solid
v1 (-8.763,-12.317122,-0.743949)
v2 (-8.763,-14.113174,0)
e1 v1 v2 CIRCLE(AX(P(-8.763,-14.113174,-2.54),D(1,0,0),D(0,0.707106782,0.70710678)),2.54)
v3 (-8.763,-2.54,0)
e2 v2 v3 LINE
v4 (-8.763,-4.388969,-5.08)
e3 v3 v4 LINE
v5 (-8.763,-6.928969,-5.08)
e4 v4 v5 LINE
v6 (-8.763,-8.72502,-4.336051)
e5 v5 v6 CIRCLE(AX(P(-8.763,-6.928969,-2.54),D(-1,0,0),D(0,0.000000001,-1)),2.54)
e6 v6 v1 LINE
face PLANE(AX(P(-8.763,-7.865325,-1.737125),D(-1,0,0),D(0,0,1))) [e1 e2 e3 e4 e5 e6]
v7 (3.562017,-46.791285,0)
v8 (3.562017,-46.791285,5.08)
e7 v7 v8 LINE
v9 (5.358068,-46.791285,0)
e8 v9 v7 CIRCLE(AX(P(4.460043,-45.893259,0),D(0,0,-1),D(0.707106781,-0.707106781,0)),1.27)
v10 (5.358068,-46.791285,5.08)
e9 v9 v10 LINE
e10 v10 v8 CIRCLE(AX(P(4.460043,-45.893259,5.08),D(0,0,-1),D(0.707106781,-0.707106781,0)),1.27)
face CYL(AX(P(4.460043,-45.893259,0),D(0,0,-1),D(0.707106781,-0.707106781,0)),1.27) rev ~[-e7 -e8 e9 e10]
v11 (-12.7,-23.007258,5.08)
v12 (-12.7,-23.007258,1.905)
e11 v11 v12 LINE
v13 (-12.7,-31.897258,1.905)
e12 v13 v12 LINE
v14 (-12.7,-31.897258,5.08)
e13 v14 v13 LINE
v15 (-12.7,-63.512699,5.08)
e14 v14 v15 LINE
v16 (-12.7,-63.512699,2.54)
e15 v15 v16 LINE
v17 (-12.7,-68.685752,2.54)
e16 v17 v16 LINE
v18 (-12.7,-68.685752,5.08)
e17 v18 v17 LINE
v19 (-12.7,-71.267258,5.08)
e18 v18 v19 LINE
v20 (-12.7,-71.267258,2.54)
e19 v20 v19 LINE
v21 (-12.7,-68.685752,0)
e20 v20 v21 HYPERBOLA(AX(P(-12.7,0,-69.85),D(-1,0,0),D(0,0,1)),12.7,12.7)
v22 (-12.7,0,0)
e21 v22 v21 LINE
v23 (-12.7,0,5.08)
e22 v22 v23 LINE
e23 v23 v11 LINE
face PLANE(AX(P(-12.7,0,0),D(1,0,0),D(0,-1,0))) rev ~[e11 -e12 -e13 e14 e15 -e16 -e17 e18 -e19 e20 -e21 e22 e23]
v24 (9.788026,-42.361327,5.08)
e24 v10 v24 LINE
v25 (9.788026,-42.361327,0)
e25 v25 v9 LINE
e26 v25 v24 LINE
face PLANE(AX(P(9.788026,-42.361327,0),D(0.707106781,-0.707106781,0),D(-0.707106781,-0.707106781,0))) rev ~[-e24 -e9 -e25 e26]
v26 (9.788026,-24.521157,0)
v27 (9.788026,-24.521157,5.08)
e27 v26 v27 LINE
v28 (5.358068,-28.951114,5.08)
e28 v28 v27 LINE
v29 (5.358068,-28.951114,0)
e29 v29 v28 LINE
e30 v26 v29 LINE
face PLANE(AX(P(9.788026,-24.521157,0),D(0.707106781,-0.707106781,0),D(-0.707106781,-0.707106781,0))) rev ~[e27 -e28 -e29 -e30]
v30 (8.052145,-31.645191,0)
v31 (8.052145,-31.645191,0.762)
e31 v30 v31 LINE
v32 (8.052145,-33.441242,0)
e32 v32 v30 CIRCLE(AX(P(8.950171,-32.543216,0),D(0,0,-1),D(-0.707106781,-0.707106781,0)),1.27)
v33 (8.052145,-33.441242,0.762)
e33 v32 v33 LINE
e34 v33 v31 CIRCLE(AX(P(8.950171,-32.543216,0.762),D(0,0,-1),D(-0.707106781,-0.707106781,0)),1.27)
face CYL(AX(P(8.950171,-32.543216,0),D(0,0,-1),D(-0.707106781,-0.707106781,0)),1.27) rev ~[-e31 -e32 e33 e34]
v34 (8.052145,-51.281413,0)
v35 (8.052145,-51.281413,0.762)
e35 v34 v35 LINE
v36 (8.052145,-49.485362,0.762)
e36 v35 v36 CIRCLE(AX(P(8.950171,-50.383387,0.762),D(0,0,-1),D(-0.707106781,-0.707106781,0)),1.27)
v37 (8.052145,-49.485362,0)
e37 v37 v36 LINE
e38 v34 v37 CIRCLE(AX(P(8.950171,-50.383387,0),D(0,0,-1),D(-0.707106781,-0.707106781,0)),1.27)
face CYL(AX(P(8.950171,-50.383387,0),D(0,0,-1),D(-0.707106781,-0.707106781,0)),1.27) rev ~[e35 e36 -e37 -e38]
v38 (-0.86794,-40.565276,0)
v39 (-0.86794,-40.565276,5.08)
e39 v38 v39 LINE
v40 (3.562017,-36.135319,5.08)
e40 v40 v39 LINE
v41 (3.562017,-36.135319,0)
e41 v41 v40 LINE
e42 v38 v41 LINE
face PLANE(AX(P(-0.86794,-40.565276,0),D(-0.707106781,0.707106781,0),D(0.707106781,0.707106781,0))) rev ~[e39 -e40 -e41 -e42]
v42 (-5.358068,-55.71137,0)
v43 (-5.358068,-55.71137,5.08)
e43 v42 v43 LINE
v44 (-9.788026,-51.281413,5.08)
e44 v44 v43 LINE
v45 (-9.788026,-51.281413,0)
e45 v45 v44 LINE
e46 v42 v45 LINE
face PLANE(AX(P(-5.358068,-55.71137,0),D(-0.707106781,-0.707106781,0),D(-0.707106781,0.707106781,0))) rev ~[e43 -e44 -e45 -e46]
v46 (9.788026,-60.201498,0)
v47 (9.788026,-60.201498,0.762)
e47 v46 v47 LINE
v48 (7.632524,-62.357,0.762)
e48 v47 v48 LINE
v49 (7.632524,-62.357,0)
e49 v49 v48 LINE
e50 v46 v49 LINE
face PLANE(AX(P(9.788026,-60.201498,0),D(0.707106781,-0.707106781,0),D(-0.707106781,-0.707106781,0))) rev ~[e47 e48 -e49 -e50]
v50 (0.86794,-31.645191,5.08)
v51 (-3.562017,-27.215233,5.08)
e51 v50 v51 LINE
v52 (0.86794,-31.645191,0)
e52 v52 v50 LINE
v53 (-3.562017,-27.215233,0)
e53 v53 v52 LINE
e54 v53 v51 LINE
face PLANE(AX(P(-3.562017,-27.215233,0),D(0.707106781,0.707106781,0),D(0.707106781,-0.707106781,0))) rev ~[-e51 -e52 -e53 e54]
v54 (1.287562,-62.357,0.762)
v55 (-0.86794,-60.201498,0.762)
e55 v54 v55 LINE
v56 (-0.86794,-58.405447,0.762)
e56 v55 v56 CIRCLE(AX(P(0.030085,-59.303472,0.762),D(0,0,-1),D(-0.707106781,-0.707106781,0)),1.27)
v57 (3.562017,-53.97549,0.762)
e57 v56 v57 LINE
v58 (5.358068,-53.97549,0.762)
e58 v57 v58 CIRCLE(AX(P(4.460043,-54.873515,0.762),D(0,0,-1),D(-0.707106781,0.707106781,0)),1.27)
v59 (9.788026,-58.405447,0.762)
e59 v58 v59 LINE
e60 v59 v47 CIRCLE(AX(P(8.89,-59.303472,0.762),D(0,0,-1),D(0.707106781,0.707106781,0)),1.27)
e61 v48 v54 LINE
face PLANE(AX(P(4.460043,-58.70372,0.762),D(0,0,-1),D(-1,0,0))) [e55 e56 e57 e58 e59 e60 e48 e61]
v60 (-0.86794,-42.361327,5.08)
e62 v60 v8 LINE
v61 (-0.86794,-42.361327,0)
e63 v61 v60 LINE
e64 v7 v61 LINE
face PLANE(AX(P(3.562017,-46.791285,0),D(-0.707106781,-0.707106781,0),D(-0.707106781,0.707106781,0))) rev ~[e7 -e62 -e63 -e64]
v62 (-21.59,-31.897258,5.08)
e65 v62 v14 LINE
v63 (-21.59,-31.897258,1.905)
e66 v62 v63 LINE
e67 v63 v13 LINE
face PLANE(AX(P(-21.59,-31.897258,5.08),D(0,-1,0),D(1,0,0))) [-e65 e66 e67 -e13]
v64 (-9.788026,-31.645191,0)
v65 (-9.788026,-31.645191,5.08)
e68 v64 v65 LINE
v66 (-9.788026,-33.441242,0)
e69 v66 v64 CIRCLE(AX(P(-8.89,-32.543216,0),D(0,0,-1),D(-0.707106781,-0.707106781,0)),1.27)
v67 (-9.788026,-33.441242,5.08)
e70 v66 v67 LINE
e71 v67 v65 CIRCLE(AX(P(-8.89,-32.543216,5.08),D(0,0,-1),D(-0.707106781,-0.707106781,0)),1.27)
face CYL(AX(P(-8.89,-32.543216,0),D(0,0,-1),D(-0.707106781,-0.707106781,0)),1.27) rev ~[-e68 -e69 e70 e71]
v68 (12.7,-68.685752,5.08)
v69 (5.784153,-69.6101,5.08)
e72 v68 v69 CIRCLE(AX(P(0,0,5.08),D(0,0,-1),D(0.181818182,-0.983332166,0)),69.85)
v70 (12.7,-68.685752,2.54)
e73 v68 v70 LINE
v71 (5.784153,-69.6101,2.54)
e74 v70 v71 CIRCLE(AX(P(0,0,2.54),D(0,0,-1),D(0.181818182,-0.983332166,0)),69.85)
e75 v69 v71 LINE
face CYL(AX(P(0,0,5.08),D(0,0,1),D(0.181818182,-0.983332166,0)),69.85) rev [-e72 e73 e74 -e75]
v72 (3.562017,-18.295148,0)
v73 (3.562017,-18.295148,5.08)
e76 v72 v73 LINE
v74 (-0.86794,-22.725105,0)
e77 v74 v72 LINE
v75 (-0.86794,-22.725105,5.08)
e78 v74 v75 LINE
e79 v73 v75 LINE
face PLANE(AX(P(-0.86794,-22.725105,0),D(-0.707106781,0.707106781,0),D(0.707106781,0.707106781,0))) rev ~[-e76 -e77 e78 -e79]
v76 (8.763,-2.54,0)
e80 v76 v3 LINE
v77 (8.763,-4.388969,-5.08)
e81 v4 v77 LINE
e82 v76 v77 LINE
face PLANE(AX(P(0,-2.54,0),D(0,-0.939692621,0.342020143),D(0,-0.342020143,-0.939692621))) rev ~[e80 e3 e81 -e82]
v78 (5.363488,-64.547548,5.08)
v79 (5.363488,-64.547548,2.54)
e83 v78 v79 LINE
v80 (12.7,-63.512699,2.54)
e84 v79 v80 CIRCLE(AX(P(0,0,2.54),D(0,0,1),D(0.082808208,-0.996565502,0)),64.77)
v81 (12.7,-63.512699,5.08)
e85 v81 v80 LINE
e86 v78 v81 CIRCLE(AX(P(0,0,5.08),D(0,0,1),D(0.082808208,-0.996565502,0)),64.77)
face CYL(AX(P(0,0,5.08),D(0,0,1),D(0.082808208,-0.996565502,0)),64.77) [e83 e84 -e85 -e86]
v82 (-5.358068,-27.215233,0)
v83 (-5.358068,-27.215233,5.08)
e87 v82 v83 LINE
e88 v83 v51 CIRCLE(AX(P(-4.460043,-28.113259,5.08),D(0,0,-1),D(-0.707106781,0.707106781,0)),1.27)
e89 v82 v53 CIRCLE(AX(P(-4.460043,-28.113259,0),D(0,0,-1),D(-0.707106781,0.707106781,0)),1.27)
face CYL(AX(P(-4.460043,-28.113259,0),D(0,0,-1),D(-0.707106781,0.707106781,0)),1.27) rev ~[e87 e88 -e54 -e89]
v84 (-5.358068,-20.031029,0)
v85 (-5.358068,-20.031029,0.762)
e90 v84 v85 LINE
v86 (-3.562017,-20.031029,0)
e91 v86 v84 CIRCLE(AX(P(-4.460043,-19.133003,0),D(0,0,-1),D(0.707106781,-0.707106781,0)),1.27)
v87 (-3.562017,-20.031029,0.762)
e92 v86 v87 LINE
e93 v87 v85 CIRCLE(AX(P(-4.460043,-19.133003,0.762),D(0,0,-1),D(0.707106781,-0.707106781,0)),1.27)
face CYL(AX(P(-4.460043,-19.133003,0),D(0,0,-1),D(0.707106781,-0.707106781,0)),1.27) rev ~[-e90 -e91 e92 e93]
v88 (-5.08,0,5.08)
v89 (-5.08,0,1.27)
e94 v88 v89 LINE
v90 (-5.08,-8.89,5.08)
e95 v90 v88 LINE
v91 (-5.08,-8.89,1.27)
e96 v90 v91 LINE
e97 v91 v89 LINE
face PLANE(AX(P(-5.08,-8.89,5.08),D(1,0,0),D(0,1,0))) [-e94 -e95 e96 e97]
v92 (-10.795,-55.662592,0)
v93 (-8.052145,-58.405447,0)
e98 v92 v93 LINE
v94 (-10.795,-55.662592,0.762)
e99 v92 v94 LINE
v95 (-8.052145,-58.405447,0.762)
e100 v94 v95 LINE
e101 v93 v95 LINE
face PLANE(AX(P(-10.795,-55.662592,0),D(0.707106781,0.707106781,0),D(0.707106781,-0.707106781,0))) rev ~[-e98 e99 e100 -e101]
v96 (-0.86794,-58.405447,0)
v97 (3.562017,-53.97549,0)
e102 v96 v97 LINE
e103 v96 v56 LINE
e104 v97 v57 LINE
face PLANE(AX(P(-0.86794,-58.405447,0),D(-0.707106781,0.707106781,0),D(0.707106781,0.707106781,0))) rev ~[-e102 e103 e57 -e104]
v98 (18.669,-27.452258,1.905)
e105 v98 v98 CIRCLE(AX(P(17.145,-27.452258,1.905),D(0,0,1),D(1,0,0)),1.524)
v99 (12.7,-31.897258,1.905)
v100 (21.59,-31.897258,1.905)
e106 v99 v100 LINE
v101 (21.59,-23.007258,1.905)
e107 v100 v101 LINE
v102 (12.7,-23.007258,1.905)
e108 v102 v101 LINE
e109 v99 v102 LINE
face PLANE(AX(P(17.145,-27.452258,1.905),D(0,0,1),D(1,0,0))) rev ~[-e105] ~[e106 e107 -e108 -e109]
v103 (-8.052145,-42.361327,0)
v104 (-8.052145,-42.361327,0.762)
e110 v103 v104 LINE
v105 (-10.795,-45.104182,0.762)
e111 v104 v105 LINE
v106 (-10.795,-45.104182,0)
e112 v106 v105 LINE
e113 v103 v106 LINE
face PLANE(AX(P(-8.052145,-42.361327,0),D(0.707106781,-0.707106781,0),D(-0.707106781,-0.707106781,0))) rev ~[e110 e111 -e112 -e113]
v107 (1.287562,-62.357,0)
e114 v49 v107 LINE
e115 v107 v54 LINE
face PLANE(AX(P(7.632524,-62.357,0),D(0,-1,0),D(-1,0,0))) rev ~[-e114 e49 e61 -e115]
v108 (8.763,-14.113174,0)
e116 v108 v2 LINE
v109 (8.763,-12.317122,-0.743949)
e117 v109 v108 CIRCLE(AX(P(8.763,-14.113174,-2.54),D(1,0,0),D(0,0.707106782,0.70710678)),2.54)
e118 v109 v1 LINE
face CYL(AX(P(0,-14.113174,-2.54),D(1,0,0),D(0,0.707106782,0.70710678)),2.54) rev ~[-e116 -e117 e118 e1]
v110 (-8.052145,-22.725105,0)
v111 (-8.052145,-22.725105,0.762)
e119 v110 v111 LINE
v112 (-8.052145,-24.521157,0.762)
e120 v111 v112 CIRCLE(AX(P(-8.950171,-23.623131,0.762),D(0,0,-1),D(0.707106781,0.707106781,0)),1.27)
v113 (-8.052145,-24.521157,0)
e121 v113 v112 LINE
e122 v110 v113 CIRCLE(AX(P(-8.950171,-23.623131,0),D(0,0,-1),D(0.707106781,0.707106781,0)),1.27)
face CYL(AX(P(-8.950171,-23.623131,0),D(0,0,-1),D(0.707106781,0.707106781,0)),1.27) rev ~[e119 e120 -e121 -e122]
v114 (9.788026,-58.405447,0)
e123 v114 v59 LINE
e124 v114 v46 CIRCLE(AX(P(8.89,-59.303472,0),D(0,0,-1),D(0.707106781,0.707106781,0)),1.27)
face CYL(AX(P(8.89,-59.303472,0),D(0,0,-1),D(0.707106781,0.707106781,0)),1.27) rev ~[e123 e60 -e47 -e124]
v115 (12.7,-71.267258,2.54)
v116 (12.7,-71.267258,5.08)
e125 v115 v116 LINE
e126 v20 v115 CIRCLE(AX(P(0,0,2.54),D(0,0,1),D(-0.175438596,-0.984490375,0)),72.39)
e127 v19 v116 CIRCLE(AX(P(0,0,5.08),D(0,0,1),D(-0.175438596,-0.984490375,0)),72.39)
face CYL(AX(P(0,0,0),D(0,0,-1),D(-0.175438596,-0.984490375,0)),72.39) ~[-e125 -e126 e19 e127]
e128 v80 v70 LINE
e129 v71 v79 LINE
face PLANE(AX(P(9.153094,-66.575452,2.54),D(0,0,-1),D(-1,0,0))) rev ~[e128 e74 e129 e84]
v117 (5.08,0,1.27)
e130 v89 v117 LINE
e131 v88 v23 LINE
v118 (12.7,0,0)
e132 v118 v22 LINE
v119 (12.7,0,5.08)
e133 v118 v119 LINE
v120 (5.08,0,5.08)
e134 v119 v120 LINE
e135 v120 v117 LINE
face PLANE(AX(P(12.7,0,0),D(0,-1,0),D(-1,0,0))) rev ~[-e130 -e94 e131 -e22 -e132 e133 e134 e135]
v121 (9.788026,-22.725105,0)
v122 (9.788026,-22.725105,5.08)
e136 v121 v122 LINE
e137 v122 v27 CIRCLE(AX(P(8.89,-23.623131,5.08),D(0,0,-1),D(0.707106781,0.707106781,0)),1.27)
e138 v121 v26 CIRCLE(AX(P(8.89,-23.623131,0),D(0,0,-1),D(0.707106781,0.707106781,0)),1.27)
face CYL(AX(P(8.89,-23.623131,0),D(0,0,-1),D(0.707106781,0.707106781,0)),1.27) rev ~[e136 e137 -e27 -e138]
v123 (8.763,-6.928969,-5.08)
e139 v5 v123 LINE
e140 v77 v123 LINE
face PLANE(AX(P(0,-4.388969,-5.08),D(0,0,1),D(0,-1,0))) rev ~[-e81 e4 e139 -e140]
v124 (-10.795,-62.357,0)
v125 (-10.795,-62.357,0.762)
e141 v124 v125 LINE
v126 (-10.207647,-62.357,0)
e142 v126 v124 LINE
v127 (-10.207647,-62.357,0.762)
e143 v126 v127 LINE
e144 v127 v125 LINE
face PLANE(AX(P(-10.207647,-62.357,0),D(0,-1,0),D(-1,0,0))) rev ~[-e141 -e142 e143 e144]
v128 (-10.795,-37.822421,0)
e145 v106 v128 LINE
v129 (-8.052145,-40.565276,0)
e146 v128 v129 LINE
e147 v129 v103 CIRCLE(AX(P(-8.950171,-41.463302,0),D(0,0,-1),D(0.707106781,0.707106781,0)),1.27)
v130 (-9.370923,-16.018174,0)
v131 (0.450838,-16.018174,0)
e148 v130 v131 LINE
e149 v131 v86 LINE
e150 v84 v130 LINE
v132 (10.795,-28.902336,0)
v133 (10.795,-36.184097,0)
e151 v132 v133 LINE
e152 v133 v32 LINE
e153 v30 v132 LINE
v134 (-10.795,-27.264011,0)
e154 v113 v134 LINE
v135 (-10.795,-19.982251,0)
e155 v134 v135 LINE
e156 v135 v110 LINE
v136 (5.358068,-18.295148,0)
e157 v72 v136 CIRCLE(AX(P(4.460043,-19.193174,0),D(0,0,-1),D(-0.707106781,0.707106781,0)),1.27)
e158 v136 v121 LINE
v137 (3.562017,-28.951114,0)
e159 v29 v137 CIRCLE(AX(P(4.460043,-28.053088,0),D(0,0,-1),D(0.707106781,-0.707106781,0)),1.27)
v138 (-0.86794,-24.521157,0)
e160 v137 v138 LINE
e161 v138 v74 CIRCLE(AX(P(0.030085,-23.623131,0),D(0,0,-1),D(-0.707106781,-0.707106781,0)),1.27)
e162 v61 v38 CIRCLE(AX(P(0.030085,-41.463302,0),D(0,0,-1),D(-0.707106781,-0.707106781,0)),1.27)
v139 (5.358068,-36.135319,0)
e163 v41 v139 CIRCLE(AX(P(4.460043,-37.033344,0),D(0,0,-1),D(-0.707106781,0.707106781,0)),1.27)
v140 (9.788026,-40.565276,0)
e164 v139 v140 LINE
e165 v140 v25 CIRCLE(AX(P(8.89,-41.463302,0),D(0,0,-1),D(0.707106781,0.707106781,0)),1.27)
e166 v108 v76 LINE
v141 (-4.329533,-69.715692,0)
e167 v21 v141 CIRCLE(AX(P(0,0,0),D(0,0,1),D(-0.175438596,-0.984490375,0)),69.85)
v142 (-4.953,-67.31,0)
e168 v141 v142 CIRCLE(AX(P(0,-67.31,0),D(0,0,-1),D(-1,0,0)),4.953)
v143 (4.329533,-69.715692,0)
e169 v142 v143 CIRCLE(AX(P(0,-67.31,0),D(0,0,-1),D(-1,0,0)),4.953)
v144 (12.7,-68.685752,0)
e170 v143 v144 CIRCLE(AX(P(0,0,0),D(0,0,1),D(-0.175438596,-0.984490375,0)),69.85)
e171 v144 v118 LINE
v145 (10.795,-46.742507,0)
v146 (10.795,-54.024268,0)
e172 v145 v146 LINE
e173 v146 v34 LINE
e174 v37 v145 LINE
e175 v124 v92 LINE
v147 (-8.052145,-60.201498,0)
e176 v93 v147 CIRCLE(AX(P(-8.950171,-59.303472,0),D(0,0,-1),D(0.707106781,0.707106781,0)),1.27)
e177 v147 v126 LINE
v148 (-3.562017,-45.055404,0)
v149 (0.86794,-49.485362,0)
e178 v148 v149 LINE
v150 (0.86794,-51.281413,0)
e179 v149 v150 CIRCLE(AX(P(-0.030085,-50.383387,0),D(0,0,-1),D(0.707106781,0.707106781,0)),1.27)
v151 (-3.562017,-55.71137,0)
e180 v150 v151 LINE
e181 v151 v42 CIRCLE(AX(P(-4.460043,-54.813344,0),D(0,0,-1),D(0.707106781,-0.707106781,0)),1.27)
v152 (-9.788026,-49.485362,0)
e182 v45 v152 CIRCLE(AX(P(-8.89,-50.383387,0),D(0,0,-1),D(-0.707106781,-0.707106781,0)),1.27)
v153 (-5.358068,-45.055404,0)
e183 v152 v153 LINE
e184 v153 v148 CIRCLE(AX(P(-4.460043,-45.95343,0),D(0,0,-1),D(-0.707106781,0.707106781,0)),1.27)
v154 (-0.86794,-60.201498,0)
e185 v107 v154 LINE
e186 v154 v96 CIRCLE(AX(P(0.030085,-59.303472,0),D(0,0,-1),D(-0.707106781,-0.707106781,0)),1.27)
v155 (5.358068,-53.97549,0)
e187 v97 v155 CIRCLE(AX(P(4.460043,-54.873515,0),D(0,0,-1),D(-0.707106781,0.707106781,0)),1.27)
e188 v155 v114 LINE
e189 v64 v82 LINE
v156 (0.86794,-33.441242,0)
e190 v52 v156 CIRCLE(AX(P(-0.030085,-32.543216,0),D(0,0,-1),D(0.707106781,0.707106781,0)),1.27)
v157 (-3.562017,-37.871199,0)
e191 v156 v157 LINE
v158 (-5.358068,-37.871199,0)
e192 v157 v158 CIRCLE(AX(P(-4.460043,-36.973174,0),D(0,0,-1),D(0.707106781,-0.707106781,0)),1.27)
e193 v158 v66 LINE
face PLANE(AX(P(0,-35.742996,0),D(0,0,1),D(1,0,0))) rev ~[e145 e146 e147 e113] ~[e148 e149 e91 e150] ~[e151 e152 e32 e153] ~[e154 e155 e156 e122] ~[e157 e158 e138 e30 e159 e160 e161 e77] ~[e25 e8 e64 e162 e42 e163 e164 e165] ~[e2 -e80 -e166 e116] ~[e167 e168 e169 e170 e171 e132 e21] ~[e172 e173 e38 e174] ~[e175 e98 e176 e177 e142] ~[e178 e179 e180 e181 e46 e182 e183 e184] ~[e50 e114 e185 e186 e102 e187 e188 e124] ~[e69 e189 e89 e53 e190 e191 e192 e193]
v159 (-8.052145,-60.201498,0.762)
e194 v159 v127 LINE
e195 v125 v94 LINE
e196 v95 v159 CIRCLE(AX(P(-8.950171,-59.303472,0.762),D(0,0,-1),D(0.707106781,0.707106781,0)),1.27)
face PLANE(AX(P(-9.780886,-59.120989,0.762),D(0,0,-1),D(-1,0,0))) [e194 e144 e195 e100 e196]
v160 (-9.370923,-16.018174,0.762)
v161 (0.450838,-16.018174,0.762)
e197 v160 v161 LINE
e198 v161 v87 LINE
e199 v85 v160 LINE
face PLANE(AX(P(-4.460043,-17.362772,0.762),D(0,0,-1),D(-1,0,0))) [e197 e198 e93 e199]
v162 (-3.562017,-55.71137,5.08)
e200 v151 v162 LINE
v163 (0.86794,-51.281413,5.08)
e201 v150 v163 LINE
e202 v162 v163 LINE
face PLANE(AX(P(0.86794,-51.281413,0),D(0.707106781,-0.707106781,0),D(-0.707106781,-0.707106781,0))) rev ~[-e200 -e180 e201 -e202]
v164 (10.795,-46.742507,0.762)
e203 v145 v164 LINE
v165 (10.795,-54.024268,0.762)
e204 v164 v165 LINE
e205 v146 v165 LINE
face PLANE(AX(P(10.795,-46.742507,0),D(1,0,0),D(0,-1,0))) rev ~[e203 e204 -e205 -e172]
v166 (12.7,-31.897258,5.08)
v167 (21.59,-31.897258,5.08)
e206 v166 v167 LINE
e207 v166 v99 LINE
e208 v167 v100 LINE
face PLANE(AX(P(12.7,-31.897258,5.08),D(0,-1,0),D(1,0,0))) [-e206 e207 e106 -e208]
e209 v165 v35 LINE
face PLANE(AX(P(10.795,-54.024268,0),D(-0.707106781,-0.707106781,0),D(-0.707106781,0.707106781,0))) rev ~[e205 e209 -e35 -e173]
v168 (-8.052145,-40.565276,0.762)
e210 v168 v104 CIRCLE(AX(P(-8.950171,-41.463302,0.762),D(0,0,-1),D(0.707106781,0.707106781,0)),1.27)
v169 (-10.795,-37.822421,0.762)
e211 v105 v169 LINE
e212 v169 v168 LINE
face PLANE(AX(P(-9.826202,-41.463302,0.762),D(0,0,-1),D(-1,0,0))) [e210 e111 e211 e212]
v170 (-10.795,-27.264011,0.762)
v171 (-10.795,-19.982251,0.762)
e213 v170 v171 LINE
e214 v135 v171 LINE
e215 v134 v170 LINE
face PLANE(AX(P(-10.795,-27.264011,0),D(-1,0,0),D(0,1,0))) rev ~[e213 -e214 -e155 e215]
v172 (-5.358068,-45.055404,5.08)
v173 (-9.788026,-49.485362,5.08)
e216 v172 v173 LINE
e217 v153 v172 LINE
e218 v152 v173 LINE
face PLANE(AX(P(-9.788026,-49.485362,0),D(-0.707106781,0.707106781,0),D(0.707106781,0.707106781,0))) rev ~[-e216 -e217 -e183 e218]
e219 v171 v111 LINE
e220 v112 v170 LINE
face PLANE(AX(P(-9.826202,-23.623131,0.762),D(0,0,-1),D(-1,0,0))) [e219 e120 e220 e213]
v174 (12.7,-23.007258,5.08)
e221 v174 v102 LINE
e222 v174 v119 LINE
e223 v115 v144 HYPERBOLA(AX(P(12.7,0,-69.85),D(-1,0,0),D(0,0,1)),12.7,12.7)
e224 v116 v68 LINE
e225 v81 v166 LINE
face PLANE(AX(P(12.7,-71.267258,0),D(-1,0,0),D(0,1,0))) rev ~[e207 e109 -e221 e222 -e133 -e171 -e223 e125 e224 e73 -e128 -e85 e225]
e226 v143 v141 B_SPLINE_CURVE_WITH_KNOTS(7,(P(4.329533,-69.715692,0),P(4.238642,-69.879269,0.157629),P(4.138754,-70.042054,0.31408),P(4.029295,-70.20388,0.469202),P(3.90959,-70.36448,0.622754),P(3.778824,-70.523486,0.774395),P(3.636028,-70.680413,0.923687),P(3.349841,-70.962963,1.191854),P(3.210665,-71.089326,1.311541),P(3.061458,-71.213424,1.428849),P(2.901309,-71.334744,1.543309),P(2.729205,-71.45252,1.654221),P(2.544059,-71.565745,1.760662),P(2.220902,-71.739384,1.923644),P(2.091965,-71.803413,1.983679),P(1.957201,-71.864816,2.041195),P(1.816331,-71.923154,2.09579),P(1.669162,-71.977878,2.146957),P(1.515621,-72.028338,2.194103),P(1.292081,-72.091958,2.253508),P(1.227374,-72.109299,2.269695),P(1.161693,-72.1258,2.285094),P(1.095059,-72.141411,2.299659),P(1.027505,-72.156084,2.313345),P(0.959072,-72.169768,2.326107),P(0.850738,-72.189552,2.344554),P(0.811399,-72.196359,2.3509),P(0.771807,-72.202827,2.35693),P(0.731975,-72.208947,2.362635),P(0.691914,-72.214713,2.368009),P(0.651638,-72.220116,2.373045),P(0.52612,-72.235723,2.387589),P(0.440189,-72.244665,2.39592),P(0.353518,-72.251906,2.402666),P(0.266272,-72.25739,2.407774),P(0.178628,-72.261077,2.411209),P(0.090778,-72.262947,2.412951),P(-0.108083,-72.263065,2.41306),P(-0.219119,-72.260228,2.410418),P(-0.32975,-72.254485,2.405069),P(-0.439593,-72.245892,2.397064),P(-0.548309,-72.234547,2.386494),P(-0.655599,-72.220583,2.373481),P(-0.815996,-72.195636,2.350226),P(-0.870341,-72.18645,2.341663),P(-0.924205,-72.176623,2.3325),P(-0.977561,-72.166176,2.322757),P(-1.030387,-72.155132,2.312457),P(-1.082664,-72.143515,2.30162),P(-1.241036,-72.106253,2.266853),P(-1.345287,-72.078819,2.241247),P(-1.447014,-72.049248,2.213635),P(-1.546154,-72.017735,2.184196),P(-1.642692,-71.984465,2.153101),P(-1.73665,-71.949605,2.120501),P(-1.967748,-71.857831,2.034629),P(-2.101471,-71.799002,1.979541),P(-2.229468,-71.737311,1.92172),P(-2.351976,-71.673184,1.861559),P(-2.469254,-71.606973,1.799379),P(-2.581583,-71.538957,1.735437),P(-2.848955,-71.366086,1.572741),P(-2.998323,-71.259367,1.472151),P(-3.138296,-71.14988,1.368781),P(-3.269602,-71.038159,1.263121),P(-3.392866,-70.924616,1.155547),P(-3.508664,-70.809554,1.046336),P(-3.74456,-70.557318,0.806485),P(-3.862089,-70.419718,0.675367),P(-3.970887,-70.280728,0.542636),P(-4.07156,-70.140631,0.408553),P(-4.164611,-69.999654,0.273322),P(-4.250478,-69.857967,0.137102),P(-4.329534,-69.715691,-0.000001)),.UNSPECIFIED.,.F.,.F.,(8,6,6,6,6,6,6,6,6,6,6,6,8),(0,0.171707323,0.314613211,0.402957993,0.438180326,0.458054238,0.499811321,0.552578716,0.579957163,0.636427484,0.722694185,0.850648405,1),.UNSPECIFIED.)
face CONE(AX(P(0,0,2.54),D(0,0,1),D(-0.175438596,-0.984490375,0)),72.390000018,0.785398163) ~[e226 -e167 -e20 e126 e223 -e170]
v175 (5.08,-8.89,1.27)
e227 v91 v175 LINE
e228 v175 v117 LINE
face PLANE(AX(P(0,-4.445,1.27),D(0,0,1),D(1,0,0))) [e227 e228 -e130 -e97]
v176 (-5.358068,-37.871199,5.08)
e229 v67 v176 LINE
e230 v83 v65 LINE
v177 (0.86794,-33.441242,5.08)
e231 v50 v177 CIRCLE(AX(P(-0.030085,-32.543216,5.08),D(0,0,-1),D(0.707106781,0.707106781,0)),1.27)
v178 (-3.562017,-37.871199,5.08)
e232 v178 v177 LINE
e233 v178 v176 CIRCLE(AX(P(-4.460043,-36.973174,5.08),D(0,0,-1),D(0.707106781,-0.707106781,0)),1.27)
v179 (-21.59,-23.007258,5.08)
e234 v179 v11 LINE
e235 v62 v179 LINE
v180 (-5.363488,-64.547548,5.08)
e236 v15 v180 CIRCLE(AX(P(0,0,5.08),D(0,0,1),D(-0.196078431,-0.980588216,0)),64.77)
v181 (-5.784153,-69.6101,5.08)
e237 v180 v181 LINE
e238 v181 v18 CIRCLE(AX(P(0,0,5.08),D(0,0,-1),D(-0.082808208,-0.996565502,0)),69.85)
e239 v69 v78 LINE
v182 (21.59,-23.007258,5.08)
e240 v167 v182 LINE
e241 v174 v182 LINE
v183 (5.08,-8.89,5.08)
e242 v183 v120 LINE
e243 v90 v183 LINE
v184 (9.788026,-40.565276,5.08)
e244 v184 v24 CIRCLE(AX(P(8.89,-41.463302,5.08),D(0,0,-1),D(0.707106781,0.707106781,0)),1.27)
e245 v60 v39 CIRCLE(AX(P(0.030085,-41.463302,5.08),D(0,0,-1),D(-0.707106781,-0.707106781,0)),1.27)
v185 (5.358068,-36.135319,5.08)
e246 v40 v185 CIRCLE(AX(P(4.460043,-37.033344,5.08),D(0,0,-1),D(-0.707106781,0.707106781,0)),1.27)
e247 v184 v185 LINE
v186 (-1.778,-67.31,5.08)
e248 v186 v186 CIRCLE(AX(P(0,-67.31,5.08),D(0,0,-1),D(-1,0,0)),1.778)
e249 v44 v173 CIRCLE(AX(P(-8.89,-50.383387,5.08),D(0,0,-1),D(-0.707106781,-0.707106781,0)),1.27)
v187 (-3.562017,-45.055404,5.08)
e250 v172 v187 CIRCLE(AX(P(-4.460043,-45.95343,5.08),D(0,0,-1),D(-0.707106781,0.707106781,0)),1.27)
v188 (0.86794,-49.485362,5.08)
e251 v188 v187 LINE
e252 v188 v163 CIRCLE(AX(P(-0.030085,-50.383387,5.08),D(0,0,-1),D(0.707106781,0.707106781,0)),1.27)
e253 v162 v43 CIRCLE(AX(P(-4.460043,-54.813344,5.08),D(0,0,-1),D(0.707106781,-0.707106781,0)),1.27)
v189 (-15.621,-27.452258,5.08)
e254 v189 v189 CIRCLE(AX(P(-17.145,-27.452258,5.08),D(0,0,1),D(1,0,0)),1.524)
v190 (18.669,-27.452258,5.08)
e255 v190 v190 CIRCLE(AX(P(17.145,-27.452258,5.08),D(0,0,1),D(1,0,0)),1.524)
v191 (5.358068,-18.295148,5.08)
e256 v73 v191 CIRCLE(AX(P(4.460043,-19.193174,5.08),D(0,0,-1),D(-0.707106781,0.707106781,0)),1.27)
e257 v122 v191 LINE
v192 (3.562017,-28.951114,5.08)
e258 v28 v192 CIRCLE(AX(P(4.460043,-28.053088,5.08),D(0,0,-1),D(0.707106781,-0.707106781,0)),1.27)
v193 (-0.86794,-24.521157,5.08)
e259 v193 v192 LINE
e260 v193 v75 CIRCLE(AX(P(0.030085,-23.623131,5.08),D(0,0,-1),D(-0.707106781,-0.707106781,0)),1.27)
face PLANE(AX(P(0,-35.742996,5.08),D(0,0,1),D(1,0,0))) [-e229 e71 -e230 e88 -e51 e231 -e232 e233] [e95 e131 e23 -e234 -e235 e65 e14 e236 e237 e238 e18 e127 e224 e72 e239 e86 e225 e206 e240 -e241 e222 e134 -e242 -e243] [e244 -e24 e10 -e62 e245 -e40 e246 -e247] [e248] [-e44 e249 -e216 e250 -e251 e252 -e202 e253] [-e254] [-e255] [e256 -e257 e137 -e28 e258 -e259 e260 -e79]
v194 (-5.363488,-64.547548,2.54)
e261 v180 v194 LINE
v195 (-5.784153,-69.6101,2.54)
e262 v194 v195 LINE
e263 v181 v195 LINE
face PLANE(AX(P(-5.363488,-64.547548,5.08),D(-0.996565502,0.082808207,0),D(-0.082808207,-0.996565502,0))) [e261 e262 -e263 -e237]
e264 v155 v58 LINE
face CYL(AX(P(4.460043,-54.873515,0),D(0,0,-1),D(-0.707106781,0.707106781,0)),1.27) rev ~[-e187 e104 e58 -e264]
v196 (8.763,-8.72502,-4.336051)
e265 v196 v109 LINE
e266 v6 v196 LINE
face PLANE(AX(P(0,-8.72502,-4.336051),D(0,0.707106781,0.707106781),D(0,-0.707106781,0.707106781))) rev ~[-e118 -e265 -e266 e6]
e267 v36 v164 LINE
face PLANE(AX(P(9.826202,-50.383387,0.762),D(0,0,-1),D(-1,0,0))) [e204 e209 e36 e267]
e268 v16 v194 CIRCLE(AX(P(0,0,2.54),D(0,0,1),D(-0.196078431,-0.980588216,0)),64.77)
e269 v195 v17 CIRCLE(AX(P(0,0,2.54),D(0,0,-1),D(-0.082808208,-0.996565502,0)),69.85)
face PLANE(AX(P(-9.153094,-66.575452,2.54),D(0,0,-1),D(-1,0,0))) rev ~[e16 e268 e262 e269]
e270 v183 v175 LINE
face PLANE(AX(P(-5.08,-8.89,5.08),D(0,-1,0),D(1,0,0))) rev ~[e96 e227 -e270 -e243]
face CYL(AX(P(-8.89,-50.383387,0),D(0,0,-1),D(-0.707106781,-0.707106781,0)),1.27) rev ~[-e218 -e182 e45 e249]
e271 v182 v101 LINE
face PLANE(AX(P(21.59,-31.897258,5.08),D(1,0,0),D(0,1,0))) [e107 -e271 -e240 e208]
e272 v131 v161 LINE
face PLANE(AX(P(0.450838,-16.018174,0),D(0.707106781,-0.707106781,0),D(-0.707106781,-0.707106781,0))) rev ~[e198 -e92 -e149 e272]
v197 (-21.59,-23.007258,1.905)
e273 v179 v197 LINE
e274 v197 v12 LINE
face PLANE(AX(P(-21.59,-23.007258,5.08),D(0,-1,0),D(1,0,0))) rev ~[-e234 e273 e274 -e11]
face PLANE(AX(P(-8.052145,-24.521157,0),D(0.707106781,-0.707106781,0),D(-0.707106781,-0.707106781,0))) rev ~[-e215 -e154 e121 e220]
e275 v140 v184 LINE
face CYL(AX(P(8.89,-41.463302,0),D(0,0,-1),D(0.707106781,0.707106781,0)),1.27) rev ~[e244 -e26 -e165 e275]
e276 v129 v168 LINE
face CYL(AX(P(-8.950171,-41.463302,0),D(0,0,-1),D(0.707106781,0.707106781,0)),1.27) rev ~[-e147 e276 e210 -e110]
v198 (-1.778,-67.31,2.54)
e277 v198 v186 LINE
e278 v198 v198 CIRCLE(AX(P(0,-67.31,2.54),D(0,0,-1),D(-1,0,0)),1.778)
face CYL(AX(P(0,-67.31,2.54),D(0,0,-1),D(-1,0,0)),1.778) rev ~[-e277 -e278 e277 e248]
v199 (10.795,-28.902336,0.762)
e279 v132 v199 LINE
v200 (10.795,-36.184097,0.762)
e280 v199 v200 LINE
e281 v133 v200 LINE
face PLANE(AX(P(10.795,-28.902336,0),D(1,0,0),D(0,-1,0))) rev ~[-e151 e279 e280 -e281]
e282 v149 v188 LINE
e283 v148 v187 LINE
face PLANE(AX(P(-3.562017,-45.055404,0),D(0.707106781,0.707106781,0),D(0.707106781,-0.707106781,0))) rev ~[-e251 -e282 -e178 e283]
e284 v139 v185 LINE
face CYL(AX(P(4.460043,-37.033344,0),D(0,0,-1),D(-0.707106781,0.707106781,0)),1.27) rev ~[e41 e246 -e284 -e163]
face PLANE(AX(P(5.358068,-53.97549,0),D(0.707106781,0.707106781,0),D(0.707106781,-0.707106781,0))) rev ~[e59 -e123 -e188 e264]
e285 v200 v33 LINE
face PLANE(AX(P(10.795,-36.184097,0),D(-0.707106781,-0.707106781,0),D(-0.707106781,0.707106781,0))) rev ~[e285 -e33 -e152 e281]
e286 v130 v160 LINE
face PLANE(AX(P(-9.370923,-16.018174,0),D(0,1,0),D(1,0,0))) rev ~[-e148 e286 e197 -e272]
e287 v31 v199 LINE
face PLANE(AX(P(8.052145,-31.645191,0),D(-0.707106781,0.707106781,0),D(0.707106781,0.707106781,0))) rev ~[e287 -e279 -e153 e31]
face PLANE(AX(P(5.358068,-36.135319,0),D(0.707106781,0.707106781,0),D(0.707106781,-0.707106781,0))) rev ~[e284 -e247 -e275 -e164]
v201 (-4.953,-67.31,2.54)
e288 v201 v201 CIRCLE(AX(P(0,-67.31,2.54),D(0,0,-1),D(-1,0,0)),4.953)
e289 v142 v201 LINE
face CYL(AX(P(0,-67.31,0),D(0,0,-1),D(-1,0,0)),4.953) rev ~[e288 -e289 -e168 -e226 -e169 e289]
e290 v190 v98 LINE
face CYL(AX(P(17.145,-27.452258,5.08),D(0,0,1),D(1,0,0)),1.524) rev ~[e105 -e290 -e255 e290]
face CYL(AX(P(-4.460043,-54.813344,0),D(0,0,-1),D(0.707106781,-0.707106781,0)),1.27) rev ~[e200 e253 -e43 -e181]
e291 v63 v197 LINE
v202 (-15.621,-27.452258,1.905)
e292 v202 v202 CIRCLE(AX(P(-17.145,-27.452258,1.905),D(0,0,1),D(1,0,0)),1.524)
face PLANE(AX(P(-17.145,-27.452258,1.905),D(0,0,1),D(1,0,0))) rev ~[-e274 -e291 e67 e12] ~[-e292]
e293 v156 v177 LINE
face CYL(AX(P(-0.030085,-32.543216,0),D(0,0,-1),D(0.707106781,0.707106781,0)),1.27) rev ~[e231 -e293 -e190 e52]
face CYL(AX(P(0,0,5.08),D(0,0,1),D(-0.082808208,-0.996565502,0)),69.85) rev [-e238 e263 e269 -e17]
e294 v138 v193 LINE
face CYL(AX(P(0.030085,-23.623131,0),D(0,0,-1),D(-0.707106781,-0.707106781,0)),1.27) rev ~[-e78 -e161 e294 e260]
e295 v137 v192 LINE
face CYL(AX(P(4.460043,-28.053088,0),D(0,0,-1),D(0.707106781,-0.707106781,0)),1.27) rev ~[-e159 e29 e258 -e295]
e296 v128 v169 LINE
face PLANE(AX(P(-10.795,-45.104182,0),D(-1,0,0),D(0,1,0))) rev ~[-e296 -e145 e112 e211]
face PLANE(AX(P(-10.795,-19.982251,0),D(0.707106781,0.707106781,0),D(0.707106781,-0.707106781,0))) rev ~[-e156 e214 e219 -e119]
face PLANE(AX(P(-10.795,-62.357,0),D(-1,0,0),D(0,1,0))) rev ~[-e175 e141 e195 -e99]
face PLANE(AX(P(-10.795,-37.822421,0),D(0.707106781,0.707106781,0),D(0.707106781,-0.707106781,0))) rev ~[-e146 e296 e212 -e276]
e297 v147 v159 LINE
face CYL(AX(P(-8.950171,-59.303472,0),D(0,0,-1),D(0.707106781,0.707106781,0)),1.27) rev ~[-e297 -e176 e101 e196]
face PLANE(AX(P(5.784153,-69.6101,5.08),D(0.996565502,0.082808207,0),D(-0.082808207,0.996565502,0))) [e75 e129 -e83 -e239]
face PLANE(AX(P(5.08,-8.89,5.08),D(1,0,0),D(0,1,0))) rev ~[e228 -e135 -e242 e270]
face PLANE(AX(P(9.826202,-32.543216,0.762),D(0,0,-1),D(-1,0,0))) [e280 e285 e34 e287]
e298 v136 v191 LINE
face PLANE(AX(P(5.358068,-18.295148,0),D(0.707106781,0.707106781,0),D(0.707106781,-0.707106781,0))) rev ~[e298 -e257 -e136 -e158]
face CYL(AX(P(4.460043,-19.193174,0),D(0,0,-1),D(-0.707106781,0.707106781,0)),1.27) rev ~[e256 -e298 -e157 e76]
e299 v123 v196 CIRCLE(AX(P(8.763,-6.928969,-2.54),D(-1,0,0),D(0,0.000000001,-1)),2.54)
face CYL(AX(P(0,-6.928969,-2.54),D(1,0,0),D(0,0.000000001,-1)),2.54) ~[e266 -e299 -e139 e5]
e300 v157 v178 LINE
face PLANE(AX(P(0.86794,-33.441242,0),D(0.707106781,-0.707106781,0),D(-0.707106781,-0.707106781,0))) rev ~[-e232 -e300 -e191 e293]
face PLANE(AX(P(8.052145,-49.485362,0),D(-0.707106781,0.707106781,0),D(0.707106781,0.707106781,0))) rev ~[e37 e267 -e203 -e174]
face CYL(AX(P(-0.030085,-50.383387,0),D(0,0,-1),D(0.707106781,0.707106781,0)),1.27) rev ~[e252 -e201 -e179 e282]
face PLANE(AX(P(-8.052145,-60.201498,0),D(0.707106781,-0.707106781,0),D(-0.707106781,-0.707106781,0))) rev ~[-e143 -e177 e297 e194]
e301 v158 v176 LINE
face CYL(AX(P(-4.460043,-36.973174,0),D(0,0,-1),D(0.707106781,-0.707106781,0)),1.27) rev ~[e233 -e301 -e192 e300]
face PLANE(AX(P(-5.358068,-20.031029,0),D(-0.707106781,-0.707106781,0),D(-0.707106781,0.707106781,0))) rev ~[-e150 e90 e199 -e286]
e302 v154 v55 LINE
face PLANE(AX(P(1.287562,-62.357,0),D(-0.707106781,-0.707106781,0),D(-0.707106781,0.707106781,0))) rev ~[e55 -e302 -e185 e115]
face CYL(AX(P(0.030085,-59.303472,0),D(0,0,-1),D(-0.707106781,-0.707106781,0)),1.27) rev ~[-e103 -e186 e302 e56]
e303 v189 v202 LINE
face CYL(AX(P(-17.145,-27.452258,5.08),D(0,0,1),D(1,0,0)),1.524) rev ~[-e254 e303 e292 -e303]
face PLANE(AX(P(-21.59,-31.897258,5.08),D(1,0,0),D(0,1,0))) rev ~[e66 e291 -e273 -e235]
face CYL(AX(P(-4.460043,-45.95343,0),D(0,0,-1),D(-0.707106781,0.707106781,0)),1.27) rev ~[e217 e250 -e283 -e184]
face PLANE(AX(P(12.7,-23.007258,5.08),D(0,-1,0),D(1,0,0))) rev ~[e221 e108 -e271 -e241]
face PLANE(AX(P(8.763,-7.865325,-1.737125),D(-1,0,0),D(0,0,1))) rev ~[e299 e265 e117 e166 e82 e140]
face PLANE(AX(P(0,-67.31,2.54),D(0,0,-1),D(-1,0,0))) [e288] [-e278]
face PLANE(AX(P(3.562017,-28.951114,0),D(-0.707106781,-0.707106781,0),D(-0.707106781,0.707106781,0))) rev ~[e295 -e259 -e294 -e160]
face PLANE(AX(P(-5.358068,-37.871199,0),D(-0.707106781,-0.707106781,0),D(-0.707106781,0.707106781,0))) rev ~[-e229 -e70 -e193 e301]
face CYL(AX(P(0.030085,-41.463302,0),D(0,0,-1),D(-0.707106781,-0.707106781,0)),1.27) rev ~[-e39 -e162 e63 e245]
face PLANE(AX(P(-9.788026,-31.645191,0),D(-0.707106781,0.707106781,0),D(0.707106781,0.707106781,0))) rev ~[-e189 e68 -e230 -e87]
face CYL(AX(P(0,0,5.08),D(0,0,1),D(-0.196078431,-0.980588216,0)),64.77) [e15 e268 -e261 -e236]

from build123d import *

# Parameters (mm, degrees)
BOSS_EXTRUDE1_DEPTH = 5.08
BOSS_EXTRUDE2_DEPTH = 8.763
CHAMFER1_SIZE       = 2.54
CUT_EXTRUDE2_DEPTH  = 6.35
SKETCH6_W           = 10.16
SKETCH6_H           = 8.89
CUT_EXTRUDE3_DEPTH  = 3.81
SKETCH7_R           = 4.953
CUT_EXTRUDE4_DEPTH  = 2.54
SKETCH8_R           = 1.786664303
SKETCH8_R_2         = 1.778
CUT_EXTRUDE5_DEPTH  = 3.54
CUT_EXTRUDE6_DEPTH  = 2.54
CUT_EXTRUDE7_DEPTH  = 0.762
SKETCH11_W          = 8.89
SKETCH11_H          = 8.89
SKETCH11_R          = 1.524
BOSS_EXTRUDE3_DEPTH = 3.175


with BuildPart() as part:
    # Sketch1 → Boss-Extrude1 (new body)
    with BuildSketch(Plane.XY):
        with BuildLine():
            Line((-12.7, 0), (-12.7, -71.267258261))
            ThreePointArc((-12.7, -71.267258261), (0, -72.39), (12.7, -71.267258261))
            Line((12.7, -71.267258261), (12.7, 0))
            Line((12.7, 0), (-12.7, 0))
        make_face()
    extrude(amount=BOSS_EXTRUDE1_DEPTH)

    # Sketch4 → Boss-Extrude2 (add, symmetric)
    with BuildSketch(Plane(origin=(0, 0, 0), x_dir=(0, 0, -1), z_dir=(1, 0, 0))):
        with BuildLine():
            Line((4.336051224, -8.725020014), (0.743948776, -12.317122463))
            ThreePointArc((0.743948776, -12.317122463), (0.193345987, -13.141157769), (0, -14.113173687))
            Line((0, -14.113173687), (0, -2.54))
            Line((0, -2.54), (5.08, -4.38896879))
            Line((5.08, -4.38896879), (5.08, -6.92896879))
            ThreePointArc((5.08, -6.92896879), (4.886654013, -7.900984708), (4.336051224, -8.725020014))
        make_face()
    extrude(amount=BOSS_EXTRUDE2_DEPTH, both=True)

    # Chamfer1
    chamfer1_edges = [part.edges().sort_by_distance(p)[0] for p in [
        (0, -72.39, 0),
    ]]
    chamfer(chamfer1_edges, length=CHAMFER1_SIZE)

    # Sketch5 → Cut-Extrude2 (cut)
    with BuildSketch(Plane(origin=(0, 0, 0), x_dir=(-1, 0, 0), z_dir=(0, 0, -1))):
        with BuildLine():
            Line((-9.788025612, -42.36132736), (-5.358068299, -46.791284673))
            ThreePointArc((-5.358068299, -46.791284673), (-4.460042687, -47.163259061), (-3.562017075, -46.791284673))
            Line((-3.562017075, -46.791284673), (0.867940238, -42.36132736))
            ThreePointArc((0.867940238, -42.36132736), (1.239914626, -41.463301747), (0.867940238, -40.565276135))
            Line((0.867940238, -40.565276135), (-3.562017075, -36.135318822))
            ThreePointArc((-3.562017075, -36.135318822), (-4.460042687, -35.763344434), (-5.358068299, -36.135318822))
            Line((-5.358068299, -36.135318822), (-9.788025612, -40.565276135))
            ThreePointArc((-9.788025612, -40.565276135), (-10.16, -41.463301747), (-9.788025612, -42.36132736))
        make_face()
        with BuildLine():
            Line((-0.867940238, -33.441241986), (3.562017075, -37.871199299))
            ThreePointArc((3.562017075, -37.871199299), (4.460042687, -38.243173687), (5.358068299, -37.871199299))
            Line((5.358068299, -37.871199299), (9.788025612, -33.441241986))
            ThreePointArc((9.788025612, -33.441241986), (10.16, -32.543216374), (9.788025612, -31.645190762))
            Line((9.788025612, -31.645190762), (5.358068299, -27.215233449))
            ThreePointArc((5.358068299, -27.215233449), (4.460042687, -26.843259061), (3.562017075, -27.215233449))
            Line((3.562017075, -27.215233449), (-0.867940238, -31.645190762))
            ThreePointArc((-0.867940238, -31.645190762), (-1.239914626, -32.543216374), (-0.867940238, -33.441241986))
        make_face()
        with BuildLine():
            Line((-9.788025612, -24.521156612), (-5.358068299, -28.951113925))
            ThreePointArc((-5.358068299, -28.951113925), (-4.460042687, -29.323088313), (-3.562017075, -28.951113925))
            Line((-3.562017075, -28.951113925), (0.867940238, -24.521156612))
            ThreePointArc((0.867940238, -24.521156612), (1.239914626, -23.623131), (0.867940238, -22.725105388))
            Line((0.867940238, -22.725105388), (-3.562017075, -18.295148075))
            ThreePointArc((-3.562017075, -18.295148075), (-4.460042687, -17.923173687), (-5.358068299, -18.295148075))
            Line((-5.358068299, -18.295148075), (-9.788025612, -22.725105388))
            ThreePointArc((-9.788025612, -22.725105388), (-10.16, -23.623131), (-9.788025612, -24.521156612))
        make_face()
        with BuildLine():
            Line((-0.867940238, -51.281412733), (3.562017075, -55.711370046))
            ThreePointArc((3.562017075, -55.711370046), (4.460042687, -56.083344434), (5.358068299, -55.711370046))
            Line((5.358068299, -55.711370046), (9.788025612, -51.281412733))
            ThreePointArc((9.788025612, -51.281412733), (10.16, -50.383387121), (9.788025612, -49.485361509))
            Line((9.788025612, -49.485361509), (5.358068299, -45.055404196))
            ThreePointArc((5.358068299, -45.055404196), (4.460042687, -44.683429808), (3.562017075, -45.055404196))
            Line((3.562017075, -45.055404196), (-0.867940238, -49.485361509))
            ThreePointArc((-0.867940238, -49.485361509), (-1.239914626, -50.383387121), (-0.867940238, -51.281412733))
        make_face()
    extrude(amount=-CUT_EXTRUDE2_DEPTH, mode=Mode.SUBTRACT)

    # Sketch6 → Cut-Extrude3 (cut)
    with BuildSketch(Plane.XY.offset(5.08)):
        with Locations((0, -4.445)):
            Rectangle(SKETCH6_W, SKETCH6_H)
    extrude(amount=-CUT_EXTRUDE3_DEPTH, mode=Mode.SUBTRACT)

    # Sketch7 → Cut-Extrude4 (cut)
    with BuildSketch(Plane(origin=(0, 0, 0), x_dir=(-1, 0, 0), z_dir=(0, 0, -1))):
        with Locations((0, -67.31)):
            Circle(SKETCH7_R)
    extrude(amount=-CUT_EXTRUDE4_DEPTH, mode=Mode.SUBTRACT)

    # Sketch8 → Cut-Extrude5 (cut, through all)
    with BuildSketch(Plane(origin=(0, 0, 2.54), x_dir=(-1, 0, 0), z_dir=(0, 0, -1))):
        Circle(SKETCH8_R)
        with Locations((0, -67.31)):
            Circle(SKETCH8_R_2)
    extrude(amount=-CUT_EXTRUDE5_DEPTH, mode=Mode.SUBTRACT)

    # Sketch9 → Cut-Extrude6 (cut)
    with BuildSketch(Plane.XY.offset(5.08)):
        with BuildLine():
            Line((-12.7, -68.685751798), (-12.7, -63.51269873))
            ThreePointArc((-12.7, -63.51269873), (-9.046553162, -64.135113439), (-5.363487601, -64.547547597))
            Line((-5.363487601, -64.547547597), (-5.784153295, -69.610100349))
            ThreePointArc((-5.784153295, -69.610100349), (-9.25362555, -69.234333348), (-12.7, -68.685751798))
        make_face()
        with BuildLine():
            Line((5.784153295, -69.610100349), (5.363487601, -64.547547597))
            ThreePointArc((5.363487601, -64.547547597), (9.046553162, -64.135113439), (12.7, -63.51269873))
            Line((12.7, -63.51269873), (12.7, -68.685751798))
            ThreePointArc((12.7, -68.685751798), (9.25362555, -69.234333348), (5.784153295, -69.610100349))
        make_face()
    extrude(amount=-CUT_EXTRUDE6_DEPTH, mode=Mode.SUBTRACT)

    # Sketch10 → Cut-Extrude7 (cut)
    with BuildSketch(Plane(origin=(0, 0, 0), x_dir=(-1, 0, 0), z_dir=(0, 0, -1))):
        with BuildLine():
            Line((-10.795, -46.742506644), (-10.795, -54.024267598))
            Line((-10.795, -54.024267598), (-8.052145135, -51.281412733))
            ThreePointArc((-8.052145135, -51.281412733), (-7.680170747, -50.383387121), (-8.052145135, -49.485361509))
            Line((-8.052145135, -49.485361509), (-10.795, -46.742506644))
        make_face()
        with BuildLine():
            Line((0.867940238, -58.405446883), (-3.562017075, -53.97548957))
            ThreePointArc((-3.562017075, -53.97548957), (-4.460042687, -53.603515182), (-5.358068299, -53.97548957))
            Line((-5.358068299, -53.97548957), (-9.788025612, -58.405446883))
            ThreePointArc((-9.788025612, -58.405446883), (-10.16, -59.303472495), (-9.788025612, -60.201498107))
            Line((-9.788025612, -60.201498107), (-7.632523719, -62.357))
            Line((-7.632523719, -62.357), (-1.287561655, -62.357))
            Line((-1.287561655, -62.357), (0.867940238, -60.201498107))
            ThreePointArc((0.867940238, -60.201498107), (1.239914626, -59.303472495), (0.867940238, -58.405446883))
        make_face()
        with BuildLine():
            Line((8.052145135, -42.36132736), (10.795, -45.104182224))
            Line((10.795, -45.104182224), (10.795, -37.822421271))
            Line((10.795, -37.822421271), (8.052145135, -40.565276135))
            ThreePointArc((8.052145135, -40.565276135), (7.680170747, -41.463301747), (8.052145135, -42.36132736))
        make_face()
        with BuildLine():
            Line((-10.795, -28.902335897), (-10.795, -36.184096851))
            Line((-10.795, -36.184096851), (-8.052145135, -33.441241986))
            ThreePointArc((-8.052145135, -33.441241986), (-7.680170747, -32.543216374), (-8.052145135, -31.645190762))
            Line((-8.052145135, -31.645190762), (-10.795, -28.902335897))
        make_face()
        with BuildLine():
            Line((9.370923164, -16.018173687), (-0.45083779, -16.018173687))
            Line((-0.45083779, -16.018173687), (3.562017075, -20.031028552))
            ThreePointArc((3.562017075, -20.031028552), (4.460042687, -20.40300294), (5.358068299, -20.031028552))
            Line((5.358068299, -20.031028552), (9.370923164, -16.018173687))
        make_face()
        with BuildLine():
            Line((8.052145135, -24.521156612), (10.795, -27.264011477))
            Line((10.795, -27.264011477), (10.795, -19.982250523))
            Line((10.795, -19.982250523), (8.052145135, -22.725105388))
            ThreePointArc((8.052145135, -22.725105388), (7.680170747, -23.623131), (8.052145135, -24.521156612))
        make_face()
        with BuildLine():
            Line((8.052145135, -60.201498107), (10.207647028, -62.357))
            Line((10.207647028, -62.357), (10.795, -62.357))
            Line((10.795, -62.357), (10.795, -55.662592018))
            Line((10.795, -55.662592018), (8.052145135, -58.405446883))
            ThreePointArc((8.052145135, -58.405446883), (7.680170747, -59.303472495), (8.052145135, -60.201498107))
        make_face()
    extrude(amount=-CUT_EXTRUDE7_DEPTH, mode=Mode.SUBTRACT)

    # Sketch11 → Boss-Extrude3 (add)
    with BuildSketch(Plane.XY.offset(5.08)):
        with Locations((17.145, -27.452258261)):
            Rectangle(SKETCH11_W, SKETCH11_H)
        with Locations((17.145, -27.452258261)):
            Circle(SKETCH11_R, mode=Mode.SUBTRACT)
        with Locations((-17.145, -27.452258261)):
            Rectangle(SKETCH11_W, SKETCH11_H)
        with Locations((-17.145, -27.452258261)):
            Circle(SKETCH11_R, mode=Mode.SUBTRACT)
    extrude(amount=-BOSS_EXTRUDE3_DEPTH)


solid = part.part
